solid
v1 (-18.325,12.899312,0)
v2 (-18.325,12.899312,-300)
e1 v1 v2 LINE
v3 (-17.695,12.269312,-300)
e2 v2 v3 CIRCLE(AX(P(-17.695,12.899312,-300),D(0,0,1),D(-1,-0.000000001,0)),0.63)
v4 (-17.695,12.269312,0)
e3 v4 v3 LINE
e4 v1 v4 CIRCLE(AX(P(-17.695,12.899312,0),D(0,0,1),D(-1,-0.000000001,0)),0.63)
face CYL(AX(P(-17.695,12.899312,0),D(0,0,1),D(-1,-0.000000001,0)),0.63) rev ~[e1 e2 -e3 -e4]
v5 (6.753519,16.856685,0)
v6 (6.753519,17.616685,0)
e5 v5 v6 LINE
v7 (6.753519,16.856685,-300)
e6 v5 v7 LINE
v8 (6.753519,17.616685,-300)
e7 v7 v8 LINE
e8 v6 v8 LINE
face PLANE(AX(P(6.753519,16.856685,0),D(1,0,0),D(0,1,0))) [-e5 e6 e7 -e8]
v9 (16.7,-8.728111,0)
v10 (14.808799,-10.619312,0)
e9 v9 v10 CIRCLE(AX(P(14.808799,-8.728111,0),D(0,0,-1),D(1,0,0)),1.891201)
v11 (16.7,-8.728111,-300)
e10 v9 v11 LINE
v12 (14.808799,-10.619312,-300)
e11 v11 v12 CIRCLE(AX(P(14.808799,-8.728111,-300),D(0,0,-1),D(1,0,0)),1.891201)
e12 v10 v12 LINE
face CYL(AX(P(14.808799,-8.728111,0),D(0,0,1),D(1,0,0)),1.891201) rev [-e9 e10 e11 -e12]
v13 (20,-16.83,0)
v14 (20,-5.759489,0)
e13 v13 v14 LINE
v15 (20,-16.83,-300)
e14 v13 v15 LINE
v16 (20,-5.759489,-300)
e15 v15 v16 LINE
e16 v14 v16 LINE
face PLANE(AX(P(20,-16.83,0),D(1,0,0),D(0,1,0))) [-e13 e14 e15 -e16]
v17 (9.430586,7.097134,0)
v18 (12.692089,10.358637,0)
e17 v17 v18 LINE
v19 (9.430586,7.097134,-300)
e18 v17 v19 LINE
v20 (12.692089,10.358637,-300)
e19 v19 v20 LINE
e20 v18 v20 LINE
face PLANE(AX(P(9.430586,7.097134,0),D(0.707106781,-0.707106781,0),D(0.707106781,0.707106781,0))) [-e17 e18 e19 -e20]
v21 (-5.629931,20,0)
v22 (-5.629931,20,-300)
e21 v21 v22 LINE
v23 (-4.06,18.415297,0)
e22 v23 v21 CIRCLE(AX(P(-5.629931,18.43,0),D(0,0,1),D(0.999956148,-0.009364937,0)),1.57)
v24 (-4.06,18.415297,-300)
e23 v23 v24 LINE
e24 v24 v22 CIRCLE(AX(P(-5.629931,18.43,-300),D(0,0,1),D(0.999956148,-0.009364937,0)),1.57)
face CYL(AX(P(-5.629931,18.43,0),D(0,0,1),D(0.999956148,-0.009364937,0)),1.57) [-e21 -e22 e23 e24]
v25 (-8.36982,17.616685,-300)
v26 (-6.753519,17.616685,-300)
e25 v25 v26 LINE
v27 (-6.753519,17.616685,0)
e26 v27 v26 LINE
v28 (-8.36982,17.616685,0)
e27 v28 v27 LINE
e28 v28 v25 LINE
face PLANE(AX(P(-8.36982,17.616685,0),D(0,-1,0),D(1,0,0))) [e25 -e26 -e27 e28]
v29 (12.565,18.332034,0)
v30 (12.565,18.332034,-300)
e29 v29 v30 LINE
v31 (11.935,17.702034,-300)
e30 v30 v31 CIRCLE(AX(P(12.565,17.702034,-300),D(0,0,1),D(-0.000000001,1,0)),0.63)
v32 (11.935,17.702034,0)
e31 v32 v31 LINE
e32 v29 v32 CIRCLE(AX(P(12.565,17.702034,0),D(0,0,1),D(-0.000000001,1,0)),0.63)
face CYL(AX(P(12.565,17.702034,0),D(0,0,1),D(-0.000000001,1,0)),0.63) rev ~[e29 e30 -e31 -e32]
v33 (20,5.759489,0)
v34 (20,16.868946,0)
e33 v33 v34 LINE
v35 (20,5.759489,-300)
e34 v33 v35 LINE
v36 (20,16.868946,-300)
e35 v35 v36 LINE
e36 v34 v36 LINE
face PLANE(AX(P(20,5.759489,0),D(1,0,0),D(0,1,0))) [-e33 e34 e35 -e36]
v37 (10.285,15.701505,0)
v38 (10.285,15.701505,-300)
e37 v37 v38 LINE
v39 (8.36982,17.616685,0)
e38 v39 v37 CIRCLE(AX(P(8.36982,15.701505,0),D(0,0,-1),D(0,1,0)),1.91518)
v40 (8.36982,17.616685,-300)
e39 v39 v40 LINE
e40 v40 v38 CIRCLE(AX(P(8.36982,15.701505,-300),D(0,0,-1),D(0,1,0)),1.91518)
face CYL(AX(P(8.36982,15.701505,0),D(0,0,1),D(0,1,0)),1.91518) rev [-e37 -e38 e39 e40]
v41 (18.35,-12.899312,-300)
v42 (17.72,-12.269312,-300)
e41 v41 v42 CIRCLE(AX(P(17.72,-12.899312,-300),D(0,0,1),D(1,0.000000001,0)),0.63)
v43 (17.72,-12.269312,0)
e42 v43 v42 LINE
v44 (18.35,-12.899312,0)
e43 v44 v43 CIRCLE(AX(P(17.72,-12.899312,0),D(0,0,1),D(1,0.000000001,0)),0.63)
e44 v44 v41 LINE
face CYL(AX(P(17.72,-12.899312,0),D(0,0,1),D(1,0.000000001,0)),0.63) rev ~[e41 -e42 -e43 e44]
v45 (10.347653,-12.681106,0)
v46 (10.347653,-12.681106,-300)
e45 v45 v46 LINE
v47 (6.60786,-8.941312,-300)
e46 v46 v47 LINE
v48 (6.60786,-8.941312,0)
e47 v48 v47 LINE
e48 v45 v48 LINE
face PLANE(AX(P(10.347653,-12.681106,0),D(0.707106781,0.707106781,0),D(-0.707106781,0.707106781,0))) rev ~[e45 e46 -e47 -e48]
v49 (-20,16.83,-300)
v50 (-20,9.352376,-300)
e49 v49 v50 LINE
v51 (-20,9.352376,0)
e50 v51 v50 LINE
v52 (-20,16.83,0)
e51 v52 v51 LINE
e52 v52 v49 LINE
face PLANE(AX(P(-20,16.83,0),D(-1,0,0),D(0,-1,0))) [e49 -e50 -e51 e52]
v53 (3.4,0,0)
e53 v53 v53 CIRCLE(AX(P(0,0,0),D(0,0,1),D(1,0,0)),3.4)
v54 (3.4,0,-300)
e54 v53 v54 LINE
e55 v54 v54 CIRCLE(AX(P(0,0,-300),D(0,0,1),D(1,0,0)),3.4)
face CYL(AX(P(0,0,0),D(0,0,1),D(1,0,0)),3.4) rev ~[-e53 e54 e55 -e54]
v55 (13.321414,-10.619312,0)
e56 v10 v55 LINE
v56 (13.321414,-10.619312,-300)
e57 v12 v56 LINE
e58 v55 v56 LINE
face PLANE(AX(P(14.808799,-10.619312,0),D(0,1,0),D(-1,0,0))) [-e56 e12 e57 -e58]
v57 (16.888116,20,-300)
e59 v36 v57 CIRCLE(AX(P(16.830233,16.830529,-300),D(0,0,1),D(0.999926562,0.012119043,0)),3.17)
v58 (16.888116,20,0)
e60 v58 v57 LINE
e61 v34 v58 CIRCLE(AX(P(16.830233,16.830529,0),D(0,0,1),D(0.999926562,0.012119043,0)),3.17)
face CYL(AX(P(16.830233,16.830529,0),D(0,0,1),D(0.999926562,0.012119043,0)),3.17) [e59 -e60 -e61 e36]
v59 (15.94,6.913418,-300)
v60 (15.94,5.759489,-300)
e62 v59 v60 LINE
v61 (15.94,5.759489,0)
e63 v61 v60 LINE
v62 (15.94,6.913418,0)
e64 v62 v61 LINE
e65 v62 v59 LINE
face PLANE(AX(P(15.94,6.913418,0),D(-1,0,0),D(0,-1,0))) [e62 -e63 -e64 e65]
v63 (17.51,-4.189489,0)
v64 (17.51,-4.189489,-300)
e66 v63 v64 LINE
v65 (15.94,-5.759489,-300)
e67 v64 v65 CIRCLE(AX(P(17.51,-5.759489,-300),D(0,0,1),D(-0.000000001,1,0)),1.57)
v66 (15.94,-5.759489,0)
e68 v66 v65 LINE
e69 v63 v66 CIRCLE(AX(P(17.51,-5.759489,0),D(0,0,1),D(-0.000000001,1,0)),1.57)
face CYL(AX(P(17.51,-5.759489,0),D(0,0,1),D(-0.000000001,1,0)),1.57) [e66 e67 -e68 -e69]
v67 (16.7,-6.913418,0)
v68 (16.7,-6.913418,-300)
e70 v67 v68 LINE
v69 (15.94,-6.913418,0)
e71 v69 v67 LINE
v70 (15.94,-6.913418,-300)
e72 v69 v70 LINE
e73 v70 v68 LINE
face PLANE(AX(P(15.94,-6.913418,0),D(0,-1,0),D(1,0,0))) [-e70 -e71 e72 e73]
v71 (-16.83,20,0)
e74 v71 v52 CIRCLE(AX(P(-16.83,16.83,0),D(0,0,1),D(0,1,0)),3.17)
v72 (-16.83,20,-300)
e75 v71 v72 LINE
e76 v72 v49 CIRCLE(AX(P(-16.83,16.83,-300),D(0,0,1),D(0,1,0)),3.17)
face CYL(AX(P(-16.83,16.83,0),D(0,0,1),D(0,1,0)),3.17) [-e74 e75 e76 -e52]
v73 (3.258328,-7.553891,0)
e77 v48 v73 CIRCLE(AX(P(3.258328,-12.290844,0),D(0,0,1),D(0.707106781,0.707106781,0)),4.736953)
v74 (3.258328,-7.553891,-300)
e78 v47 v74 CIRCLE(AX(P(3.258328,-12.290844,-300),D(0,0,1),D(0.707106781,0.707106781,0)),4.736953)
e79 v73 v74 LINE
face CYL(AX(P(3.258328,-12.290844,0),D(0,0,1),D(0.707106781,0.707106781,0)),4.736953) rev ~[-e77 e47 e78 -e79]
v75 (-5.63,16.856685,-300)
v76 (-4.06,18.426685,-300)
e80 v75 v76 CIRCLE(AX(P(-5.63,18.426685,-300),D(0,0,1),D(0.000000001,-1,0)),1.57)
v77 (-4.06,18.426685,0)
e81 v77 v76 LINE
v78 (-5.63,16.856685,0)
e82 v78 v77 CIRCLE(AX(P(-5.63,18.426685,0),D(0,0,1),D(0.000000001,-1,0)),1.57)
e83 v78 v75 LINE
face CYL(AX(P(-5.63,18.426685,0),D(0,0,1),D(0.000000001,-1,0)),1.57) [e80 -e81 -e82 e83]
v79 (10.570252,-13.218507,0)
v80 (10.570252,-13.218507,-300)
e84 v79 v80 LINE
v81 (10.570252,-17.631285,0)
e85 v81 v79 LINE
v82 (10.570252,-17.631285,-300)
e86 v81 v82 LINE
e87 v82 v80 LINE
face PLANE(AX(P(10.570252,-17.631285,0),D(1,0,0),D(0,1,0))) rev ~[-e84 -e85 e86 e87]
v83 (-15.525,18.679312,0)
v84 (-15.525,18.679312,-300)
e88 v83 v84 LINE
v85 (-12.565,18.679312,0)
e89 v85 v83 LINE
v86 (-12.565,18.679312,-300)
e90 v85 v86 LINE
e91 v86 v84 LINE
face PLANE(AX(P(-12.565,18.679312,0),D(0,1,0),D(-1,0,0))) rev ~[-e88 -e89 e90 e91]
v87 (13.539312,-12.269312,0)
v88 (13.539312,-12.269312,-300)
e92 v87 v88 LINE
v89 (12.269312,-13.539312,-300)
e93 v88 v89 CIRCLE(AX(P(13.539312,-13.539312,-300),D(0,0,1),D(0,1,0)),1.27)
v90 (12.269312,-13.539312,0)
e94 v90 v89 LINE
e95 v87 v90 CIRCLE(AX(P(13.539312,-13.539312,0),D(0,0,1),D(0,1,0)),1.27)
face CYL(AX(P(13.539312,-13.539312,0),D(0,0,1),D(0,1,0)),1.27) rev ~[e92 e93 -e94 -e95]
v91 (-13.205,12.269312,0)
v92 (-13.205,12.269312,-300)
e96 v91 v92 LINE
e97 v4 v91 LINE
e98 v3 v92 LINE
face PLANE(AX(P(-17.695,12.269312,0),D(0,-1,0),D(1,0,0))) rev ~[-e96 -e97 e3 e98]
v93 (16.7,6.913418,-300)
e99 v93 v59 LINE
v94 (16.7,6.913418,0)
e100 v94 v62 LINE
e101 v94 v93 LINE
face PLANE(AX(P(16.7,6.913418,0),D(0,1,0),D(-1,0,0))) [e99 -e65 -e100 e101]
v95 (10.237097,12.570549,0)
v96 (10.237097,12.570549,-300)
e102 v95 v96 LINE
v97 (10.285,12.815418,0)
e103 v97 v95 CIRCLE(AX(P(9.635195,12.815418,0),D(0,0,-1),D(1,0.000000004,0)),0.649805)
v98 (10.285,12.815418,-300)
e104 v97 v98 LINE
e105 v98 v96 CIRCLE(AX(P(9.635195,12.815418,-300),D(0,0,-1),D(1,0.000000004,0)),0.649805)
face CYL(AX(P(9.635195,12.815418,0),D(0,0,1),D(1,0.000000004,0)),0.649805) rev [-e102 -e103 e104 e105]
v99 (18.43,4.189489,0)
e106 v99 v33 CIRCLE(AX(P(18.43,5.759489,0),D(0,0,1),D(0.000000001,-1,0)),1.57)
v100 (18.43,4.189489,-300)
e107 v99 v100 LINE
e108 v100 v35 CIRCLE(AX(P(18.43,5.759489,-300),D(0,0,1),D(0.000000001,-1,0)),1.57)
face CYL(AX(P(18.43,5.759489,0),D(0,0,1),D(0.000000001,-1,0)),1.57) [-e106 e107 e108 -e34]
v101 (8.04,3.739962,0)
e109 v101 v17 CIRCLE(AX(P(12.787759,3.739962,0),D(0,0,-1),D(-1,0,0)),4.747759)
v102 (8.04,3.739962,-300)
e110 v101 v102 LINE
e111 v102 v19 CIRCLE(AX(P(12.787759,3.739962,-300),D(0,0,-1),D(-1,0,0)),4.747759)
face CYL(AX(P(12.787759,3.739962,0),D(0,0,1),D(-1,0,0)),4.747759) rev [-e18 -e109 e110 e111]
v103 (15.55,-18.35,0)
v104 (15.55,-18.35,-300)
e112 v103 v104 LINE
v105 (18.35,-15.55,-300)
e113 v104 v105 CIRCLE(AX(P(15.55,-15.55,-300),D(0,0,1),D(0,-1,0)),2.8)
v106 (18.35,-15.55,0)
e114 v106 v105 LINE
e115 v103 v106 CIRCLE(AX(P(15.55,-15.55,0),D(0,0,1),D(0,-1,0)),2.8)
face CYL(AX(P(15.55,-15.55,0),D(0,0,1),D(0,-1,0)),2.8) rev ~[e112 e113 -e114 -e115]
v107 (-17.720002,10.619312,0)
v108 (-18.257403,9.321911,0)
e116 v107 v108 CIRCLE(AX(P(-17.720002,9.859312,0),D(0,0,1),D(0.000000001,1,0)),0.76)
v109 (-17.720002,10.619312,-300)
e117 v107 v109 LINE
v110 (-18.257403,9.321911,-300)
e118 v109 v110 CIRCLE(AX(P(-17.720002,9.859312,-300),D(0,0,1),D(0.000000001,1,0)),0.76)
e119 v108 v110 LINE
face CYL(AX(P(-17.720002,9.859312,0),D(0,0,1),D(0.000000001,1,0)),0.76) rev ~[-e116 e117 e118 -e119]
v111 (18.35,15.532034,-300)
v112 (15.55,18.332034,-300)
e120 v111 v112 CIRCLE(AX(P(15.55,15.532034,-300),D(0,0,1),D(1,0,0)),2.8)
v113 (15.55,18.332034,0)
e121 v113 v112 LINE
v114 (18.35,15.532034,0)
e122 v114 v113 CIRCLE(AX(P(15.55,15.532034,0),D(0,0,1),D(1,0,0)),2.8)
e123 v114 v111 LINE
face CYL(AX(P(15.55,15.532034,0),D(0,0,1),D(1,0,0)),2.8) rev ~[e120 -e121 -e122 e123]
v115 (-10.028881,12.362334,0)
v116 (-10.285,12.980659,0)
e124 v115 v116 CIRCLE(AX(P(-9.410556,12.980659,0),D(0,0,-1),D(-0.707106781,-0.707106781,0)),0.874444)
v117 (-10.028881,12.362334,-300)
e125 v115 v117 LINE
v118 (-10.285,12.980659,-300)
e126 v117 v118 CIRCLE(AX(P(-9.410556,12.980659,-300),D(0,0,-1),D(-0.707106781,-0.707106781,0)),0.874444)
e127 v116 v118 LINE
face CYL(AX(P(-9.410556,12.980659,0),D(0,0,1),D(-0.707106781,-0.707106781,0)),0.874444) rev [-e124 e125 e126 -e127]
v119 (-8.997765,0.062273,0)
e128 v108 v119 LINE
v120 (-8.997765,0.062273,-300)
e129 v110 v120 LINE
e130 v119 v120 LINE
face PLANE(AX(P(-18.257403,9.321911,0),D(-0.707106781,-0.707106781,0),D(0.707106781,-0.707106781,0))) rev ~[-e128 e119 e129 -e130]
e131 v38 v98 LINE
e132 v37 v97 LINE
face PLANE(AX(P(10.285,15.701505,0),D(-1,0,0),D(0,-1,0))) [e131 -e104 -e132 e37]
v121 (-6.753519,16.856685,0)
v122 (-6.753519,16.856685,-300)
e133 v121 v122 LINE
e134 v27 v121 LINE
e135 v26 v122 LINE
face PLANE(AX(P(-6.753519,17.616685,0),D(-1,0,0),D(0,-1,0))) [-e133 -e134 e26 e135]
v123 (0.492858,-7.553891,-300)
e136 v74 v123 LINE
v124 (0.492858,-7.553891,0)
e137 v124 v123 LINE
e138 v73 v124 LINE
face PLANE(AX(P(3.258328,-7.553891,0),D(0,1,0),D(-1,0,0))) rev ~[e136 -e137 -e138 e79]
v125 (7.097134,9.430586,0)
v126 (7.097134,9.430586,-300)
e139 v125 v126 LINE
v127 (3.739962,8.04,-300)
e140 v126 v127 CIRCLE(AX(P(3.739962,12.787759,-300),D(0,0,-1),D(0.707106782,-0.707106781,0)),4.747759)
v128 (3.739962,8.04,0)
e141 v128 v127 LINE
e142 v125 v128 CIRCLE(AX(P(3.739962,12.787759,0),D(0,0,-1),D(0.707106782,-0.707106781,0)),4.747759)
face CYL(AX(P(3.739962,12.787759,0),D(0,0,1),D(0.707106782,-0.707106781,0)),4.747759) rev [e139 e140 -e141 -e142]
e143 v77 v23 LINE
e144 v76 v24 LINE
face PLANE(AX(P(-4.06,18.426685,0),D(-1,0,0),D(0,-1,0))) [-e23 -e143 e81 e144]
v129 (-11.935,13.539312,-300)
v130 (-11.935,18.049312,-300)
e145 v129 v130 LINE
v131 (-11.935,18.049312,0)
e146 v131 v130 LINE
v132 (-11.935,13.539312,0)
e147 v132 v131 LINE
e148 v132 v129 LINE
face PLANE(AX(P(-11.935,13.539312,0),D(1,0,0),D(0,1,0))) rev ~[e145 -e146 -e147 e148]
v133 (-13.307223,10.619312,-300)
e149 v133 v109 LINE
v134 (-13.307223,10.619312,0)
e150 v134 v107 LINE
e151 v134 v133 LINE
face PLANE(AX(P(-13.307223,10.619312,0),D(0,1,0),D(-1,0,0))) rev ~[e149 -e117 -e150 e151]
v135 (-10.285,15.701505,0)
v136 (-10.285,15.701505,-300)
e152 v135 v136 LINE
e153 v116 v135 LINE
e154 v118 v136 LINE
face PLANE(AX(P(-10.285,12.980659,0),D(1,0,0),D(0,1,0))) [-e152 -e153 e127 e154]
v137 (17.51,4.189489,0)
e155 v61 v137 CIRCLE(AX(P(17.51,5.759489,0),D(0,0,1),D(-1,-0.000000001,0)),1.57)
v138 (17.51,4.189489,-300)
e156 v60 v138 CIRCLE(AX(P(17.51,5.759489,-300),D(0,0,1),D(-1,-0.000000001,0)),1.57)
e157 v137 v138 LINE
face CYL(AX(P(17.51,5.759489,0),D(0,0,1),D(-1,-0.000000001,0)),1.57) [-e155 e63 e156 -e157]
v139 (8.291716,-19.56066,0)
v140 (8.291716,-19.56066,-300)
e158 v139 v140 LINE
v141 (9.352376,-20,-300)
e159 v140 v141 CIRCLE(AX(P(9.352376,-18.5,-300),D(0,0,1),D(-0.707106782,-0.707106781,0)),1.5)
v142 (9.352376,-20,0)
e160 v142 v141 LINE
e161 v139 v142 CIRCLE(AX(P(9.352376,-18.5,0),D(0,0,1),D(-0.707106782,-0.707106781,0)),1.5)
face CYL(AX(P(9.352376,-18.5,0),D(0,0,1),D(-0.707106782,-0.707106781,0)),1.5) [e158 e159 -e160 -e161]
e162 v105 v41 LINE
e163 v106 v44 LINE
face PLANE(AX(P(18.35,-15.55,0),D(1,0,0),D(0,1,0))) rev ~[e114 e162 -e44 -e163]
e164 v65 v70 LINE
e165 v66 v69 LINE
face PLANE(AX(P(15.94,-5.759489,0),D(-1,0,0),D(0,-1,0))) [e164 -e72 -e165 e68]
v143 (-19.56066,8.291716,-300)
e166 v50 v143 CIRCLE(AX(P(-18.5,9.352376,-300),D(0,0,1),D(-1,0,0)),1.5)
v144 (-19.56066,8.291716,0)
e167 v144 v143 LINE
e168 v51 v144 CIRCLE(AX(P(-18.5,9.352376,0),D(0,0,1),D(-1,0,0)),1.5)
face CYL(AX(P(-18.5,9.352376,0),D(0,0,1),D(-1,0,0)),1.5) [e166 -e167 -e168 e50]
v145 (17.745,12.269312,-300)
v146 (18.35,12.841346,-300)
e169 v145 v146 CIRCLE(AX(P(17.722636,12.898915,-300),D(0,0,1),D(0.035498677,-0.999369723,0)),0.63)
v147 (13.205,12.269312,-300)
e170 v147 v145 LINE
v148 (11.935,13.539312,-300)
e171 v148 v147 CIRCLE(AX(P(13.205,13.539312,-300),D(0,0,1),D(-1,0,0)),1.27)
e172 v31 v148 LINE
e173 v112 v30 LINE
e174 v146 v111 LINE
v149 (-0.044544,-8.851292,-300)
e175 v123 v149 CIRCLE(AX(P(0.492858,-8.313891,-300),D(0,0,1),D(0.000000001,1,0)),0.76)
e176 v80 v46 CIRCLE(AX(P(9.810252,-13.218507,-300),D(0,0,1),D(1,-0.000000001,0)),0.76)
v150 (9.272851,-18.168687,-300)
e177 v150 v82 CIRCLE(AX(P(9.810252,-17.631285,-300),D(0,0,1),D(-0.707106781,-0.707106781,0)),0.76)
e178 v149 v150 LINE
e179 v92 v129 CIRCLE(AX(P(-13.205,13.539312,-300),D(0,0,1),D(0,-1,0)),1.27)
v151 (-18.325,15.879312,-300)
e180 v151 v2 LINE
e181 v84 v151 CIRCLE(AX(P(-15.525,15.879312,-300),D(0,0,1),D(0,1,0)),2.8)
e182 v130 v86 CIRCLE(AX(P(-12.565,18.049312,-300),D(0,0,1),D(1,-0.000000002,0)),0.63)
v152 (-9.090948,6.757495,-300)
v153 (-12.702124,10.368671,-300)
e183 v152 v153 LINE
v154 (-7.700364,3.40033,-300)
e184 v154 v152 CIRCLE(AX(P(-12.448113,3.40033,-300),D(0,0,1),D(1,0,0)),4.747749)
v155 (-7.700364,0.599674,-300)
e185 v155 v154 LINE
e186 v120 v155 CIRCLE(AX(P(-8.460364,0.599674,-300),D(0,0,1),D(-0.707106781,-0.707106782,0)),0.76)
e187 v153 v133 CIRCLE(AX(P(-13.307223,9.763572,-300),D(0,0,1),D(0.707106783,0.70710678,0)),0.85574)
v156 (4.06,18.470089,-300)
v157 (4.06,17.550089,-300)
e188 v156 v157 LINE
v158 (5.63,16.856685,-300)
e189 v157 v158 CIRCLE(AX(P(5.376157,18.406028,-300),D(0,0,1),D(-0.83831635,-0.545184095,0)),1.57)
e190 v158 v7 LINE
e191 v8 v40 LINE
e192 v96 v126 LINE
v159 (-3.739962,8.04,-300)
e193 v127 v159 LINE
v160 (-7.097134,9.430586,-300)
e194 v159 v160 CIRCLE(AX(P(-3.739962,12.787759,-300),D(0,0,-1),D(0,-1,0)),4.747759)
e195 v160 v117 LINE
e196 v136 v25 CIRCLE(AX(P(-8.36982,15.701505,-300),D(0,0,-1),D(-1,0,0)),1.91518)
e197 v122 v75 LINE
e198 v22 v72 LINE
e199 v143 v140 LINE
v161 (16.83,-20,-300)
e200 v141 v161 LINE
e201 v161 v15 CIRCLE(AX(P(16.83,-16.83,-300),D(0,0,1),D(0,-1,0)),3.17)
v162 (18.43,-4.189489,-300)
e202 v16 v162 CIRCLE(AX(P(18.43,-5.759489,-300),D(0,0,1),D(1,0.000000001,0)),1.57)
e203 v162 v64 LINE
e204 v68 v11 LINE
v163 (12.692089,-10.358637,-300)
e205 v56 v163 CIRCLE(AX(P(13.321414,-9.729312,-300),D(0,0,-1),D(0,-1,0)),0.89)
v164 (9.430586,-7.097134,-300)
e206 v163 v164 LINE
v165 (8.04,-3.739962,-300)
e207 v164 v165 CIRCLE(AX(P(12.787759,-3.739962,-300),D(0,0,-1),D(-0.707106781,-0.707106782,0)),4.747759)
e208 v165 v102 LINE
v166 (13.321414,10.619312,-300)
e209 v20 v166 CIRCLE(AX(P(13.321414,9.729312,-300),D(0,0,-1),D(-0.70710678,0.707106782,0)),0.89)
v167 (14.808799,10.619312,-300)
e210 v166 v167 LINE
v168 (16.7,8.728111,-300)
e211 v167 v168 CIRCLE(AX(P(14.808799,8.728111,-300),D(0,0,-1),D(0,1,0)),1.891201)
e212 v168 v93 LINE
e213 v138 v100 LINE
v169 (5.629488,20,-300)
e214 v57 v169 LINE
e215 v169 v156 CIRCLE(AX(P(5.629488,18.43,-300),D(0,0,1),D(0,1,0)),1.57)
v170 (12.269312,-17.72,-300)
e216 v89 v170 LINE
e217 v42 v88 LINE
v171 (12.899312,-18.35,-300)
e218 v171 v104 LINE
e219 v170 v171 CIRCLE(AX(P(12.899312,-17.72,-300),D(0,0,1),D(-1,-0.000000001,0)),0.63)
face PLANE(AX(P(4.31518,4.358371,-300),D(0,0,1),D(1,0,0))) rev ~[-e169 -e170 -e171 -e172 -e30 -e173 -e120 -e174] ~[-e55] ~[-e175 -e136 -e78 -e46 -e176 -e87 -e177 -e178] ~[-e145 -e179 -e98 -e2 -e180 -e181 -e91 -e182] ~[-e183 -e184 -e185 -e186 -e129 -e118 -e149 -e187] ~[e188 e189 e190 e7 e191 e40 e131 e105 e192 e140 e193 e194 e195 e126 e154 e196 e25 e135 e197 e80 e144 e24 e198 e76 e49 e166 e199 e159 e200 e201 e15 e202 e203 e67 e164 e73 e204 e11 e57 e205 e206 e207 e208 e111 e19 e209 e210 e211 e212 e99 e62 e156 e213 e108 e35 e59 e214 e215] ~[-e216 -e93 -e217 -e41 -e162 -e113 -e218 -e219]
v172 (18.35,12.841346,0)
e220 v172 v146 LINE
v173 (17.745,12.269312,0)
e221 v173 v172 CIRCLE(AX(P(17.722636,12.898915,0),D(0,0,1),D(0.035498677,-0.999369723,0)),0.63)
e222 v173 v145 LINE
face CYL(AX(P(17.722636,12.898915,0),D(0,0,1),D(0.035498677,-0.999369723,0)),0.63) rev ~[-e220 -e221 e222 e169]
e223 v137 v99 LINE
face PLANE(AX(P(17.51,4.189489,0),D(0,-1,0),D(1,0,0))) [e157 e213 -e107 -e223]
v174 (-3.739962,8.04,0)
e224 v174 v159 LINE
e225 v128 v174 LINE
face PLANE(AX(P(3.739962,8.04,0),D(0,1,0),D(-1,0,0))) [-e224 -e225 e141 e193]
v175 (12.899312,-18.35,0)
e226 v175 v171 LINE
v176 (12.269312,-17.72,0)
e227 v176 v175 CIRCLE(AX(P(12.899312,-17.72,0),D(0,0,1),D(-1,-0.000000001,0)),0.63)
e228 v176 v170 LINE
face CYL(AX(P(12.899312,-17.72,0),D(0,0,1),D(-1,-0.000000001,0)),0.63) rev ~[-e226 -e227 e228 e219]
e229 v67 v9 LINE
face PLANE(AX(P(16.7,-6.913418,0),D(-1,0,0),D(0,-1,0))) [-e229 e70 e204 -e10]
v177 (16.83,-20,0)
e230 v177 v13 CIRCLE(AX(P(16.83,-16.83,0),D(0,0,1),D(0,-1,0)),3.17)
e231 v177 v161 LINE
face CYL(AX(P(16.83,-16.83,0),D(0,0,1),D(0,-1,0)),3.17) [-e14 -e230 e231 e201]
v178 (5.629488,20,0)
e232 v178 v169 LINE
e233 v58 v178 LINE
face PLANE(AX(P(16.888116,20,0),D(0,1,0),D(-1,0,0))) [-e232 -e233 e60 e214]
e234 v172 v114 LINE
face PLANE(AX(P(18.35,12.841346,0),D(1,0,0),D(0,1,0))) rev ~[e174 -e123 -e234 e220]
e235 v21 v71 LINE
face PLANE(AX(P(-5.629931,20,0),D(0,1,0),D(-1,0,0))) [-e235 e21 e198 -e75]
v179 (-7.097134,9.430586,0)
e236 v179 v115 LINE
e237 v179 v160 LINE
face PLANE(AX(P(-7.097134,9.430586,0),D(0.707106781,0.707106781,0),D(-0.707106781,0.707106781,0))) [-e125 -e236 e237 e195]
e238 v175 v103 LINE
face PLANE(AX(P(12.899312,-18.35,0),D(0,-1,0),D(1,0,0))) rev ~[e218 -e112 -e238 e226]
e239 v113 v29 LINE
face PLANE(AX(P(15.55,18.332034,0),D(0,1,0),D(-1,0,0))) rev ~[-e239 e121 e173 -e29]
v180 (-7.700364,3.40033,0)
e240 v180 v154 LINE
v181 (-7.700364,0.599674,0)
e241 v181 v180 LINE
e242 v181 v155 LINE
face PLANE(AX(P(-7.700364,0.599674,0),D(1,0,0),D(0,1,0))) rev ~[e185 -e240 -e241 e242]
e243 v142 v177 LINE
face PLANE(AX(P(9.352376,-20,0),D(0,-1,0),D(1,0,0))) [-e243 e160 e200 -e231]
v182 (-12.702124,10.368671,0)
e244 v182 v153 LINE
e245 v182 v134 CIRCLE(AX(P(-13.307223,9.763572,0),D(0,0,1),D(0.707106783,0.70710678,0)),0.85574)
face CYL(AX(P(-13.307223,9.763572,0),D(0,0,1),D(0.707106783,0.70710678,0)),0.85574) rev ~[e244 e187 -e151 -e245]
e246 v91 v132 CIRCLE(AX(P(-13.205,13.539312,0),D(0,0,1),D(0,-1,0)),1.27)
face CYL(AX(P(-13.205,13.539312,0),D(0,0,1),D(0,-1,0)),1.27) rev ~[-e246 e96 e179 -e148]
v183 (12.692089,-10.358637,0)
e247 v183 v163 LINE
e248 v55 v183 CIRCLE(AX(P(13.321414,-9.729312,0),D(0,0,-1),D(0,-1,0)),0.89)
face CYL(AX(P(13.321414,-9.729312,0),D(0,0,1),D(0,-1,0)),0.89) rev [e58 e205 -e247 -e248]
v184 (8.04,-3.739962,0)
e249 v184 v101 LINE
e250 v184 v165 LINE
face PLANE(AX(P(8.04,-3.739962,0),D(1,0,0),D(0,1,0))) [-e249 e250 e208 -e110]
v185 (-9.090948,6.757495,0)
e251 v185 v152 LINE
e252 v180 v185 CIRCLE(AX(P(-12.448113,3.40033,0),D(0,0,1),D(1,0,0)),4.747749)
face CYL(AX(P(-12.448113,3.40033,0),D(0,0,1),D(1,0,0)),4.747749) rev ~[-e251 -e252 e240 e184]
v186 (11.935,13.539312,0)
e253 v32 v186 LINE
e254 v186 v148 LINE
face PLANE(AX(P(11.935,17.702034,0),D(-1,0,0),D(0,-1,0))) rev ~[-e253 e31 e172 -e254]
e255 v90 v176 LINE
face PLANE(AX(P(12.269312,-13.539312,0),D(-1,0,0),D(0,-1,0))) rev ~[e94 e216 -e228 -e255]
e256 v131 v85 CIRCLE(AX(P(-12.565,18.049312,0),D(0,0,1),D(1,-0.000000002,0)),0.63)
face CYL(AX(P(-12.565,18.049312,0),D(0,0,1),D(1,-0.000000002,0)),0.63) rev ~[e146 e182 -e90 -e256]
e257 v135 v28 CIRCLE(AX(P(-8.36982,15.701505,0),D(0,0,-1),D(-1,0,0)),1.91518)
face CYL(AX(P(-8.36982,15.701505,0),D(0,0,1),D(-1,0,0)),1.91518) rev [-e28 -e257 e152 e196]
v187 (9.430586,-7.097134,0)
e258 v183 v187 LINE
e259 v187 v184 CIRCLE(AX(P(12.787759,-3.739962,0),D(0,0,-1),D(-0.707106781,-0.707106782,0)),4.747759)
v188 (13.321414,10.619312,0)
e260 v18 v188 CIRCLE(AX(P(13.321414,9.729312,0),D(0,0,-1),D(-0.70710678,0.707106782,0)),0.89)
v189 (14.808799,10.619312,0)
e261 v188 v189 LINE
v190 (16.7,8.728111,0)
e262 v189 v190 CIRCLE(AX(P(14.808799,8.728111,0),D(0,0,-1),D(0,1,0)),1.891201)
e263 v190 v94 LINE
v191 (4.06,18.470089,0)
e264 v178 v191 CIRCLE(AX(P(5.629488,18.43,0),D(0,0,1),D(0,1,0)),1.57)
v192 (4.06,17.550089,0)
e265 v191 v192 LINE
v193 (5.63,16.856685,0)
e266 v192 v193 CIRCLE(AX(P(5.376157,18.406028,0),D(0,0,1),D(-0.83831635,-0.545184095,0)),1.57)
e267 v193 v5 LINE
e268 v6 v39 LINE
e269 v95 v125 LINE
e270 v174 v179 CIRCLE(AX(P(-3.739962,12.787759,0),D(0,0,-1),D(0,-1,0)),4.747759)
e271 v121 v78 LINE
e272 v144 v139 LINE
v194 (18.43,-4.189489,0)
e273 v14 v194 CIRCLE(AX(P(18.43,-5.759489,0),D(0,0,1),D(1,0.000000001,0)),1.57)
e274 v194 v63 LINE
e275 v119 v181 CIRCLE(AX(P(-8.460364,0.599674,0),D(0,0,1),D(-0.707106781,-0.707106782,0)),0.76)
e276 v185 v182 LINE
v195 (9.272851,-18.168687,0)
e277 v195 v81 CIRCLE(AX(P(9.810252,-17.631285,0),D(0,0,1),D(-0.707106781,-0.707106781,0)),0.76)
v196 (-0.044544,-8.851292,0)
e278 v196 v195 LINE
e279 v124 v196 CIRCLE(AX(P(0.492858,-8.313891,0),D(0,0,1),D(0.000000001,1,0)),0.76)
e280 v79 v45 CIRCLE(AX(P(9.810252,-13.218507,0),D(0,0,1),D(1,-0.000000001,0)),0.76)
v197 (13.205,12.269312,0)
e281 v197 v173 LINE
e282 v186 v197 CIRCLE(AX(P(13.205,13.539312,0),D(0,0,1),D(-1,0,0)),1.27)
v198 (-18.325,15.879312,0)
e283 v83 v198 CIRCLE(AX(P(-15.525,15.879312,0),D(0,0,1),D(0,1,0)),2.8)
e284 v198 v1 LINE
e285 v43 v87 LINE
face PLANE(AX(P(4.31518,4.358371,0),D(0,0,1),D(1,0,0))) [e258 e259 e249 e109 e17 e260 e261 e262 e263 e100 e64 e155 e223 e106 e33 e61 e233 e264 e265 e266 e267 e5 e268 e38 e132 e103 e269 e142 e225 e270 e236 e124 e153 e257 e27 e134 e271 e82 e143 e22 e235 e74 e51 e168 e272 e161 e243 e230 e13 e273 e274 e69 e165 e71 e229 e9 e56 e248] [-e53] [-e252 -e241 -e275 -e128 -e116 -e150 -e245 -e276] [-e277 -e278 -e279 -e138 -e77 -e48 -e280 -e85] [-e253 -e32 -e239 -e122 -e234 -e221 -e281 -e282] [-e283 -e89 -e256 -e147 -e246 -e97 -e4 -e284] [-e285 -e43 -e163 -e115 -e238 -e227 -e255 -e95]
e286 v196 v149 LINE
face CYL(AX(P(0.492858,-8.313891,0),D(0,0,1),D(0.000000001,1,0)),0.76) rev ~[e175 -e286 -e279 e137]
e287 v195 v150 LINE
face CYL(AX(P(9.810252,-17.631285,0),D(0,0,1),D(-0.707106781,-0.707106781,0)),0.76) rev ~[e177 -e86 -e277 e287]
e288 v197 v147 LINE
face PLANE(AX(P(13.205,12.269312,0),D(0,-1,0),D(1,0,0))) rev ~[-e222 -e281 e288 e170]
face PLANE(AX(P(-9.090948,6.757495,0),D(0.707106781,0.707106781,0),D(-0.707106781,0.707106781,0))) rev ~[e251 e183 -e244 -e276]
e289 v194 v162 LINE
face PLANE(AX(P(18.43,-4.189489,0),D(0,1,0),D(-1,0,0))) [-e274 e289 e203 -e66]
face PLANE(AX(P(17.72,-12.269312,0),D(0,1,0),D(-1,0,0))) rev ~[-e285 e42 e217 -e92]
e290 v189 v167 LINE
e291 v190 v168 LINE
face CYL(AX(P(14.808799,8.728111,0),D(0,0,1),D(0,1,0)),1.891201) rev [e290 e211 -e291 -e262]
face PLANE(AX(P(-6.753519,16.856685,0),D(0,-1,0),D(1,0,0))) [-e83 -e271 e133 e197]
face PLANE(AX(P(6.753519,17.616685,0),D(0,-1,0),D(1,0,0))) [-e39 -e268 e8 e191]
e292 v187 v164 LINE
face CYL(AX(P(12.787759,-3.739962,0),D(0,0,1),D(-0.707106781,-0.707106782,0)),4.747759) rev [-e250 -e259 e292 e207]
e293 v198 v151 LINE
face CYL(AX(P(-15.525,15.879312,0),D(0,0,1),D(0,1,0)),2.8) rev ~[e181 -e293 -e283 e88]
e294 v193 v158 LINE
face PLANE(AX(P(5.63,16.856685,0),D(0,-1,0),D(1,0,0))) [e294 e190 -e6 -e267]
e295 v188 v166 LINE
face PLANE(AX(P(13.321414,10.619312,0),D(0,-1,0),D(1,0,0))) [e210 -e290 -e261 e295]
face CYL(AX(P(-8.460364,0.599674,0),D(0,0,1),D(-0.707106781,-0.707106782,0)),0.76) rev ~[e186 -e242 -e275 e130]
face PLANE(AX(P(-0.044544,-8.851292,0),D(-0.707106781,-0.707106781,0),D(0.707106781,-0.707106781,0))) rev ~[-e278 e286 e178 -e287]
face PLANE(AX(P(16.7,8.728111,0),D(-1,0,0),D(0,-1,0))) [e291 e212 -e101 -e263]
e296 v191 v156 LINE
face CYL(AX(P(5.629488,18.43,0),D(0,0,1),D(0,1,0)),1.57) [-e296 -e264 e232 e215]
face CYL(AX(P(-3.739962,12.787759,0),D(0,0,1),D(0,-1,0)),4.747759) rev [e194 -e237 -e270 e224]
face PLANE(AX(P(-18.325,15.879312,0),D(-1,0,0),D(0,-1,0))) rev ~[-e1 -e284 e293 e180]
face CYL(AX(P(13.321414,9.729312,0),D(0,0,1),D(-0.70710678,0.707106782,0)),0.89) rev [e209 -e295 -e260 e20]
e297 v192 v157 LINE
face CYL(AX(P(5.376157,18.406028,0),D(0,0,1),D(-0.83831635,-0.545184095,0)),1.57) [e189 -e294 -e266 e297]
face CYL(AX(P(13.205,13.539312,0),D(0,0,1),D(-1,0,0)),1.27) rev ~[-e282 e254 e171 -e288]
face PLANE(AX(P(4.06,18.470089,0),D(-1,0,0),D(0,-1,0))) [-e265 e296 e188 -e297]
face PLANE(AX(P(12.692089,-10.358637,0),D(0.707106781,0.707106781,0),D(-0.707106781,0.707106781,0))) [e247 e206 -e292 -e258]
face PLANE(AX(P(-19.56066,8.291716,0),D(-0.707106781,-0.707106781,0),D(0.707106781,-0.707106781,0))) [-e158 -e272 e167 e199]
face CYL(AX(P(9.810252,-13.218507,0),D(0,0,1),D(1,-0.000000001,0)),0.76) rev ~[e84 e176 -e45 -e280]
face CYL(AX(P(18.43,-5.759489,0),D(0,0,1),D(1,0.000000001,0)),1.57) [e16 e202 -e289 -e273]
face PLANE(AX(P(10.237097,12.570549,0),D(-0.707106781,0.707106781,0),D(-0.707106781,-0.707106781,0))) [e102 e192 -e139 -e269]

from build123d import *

# Parameters (mm, degrees)
SKETCH1_R      = 3.4
EXTRUDE1_DEPTH = 300


with BuildPart() as part:
    # Sketch1 → Extrude1 (new body)
    with BuildSketch(Plane.XY):
        with BuildLine():
            Line((14.808799083, -10.619311877), (13.321414326, -10.619311877))
            ThreePointArc((13.321414326, -10.619311877), (12.980826071, -10.551564661), (12.692089291, -10.358636913))
            Line((12.692089291, -10.358636913), (9.430586284, -7.097133906))
            ThreePointArc((9.430586284, -7.097133906), (8.4014016, -5.556850178), (8.04, -3.73996164))
            Line((8.04, -3.73996164), (8.04, 3.73996164))
            ThreePointArc((8.04, 3.73996164), (8.4014016, 5.556850178), (9.430586284, 7.097133906))
            Line((9.430586284, 7.097133906), (12.692089291, 10.358636913))
            ThreePointArc((12.692089291, 10.358636913), (12.980826071, 10.551564661), (13.321414326, 10.619311877))
            Line((13.321414326, 10.619311877), (14.808799083, 10.619311877))
            ThreePointArc((14.808799083, 10.619311877), (16.146080076, 10.065391953), (16.7, 8.72811096))
            Line((16.7, 8.72811096), (16.7, 6.913417866))
            Line((16.7, 6.913417866), (15.94, 6.913417866))
            Line((15.94, 6.913417866), (15.94, 5.759489466))
            ThreePointArc((15.94, 5.759489466), (16.399842354, 4.64933182), (17.51, 4.189489466))
            Line((17.51, 4.189489466), (18.43, 4.189489466))
            ThreePointArc((18.43, 4.189489466), (19.540157646, 4.64933182), (20, 5.759489466))
            Line((20, 5.759489466), (20, 13.038781153))
            Line((20, 13.038781153), (20, 16.86894588))
            ThreePointArc((20, 16.86894588), (19.078633802, 19.065163367), (16.888116194, 20))
            Line((16.888116194, 20), (13.060449326, 20))
            Line((13.060449326, 20), (5.629488086, 20))
            ThreePointArc((5.629488086, 20), (4.533595786, 19.554241997), (4.06, 18.470089257))
            Line((4.06, 18.470089257), (4.06, 17.550089257))
            ThreePointArc((4.06, 17.550089257), (4.741862057, 16.969863134), (5.63, 16.85668534))
            Line((5.63, 16.85668534), (6.753519305, 16.85668534))
            Line((6.753519305, 16.85668534), (6.753519305, 17.61668534))
            Line((6.753519305, 17.61668534), (8.369819728, 17.61668534))
            ThreePointArc((8.369819728, 17.61668534), (9.724056685, 17.055742026), (10.285, 15.701505068))
            Line((10.285, 15.701505068), (10.285, 12.815417808))
            ThreePointArc((10.285, 12.815417808), (10.272911804, 12.690662781), (10.237096964, 12.570549342))
            Line((10.237096964, 12.570549342), (7.097133906, 9.430586284))
            ThreePointArc((7.097133906, 9.430586284), (5.556850178, 8.4014016), (3.73996164, 8.04))
            Line((3.73996164, 8.04), (-3.73996164, 8.04))
            ThreePointArc((-3.73996164, 8.04), (-5.556850178, 8.4014016), (-7.097133906, 9.430586284))
            Line((-7.097133906, 9.430586284), (-10.028881252, 12.36233363))
            ThreePointArc((-10.028881252, 12.36233363), (-10.218436906, 12.646023714), (-10.285, 12.980658984))
            Line((-10.285, 12.980658984), (-10.285, 15.701505068))
            ThreePointArc((-10.285, 15.701505068), (-9.724056685, 17.055742026), (-8.369819728, 17.61668534))
            Line((-8.369819728, 17.61668534), (-6.753519305, 17.61668534))
            Line((-6.753519305, 17.61668534), (-6.753519305, 16.85668534))
            Line((-6.753519305, 16.85668534), (-5.63, 16.85668534))
            ThreePointArc((-5.63, 16.85668534), (-4.519842354, 17.316527694), (-4.06, 18.42668534))
            Line((-4.06, 18.42668534), (-4.06, 18.415297048))
            ThreePointArc((-4.06, 18.415297048), (-4.514587341, 19.53494714), (-5.629931152, 20))
            Line((-5.629931152, 20), (-12.97420003, 20))
            Line((-12.97420003, 20), (-16.83, 20))
            ThreePointArc((-16.83, 20), (-19.071528496, 19.071528496), (-20, 16.83))
            Line((-20, 16.83), (-20, 9.352375707))
            ThreePointArc((-20, 9.352375707), (-19.885819299, 8.778350559), (-19.560660172, 8.291715536))
            Line((-19.560660172, 8.291715536), (8.291715536, -19.560660172))
            ThreePointArc((8.291715536, -19.560660172), (8.778350559, -19.885819299), (9.352375707, -20))
            Line((9.352375707, -20), (16.83, -20))
            ThreePointArc((16.83, -20), (19.071528496, -19.071528496), (20, -16.83))
            Line((20, -16.83), (20, -12.959910743))
            Line((20, -12.959910743), (20, -5.759489466))
            ThreePointArc((20, -5.759489466), (19.540157646, -4.64933182), (18.43, -4.189489466))
            Line((18.43, -4.189489466), (17.51, -4.189489466))
            ThreePointArc((17.51, -4.189489466), (16.399842354, -4.64933182), (15.94, -5.759489466))
            Line((15.94, -5.759489466), (15.94, -6.913417866))
            Line((15.94, -6.913417866), (16.7, -6.913417866))
            Line((16.7, -6.913417866), (16.7, -8.72811096))
            ThreePointArc((16.7, -8.72811096), (16.146080076, -10.065391953), (14.808799083, -10.619311877))
        make_face()
        Circle(SKETCH1_R, mode=Mode.SUBTRACT)
        with BuildLine():
            Line((15.55, 18.332033793), (12.565, 18.332033793))
            ThreePointArc((12.565, 18.332033793), (12.119522728, 18.147511065), (11.935, 17.702033793))
            Line((11.935, 17.702033793), (11.935, 13.539311877))
            ThreePointArc((11.935, 13.539311877), (12.306974388, 12.641286265), (13.205, 12.269311877))
            Line((13.205, 12.269311877), (17.745, 12.269311877))
            ThreePointArc((17.745, 12.269311877), (18.155466507, 12.441140176), (18.35, 12.84134567))
            Line((18.35, 12.84134567), (18.35, 15.532033793))
            ThreePointArc((18.35, 15.532033793), (17.529898987, 17.51193278), (15.55, 18.332033793))
        make_face(mode=Mode.SUBTRACT)
        with BuildLine():
            Line((12.899311877, -18.35), (15.55, -18.35))
            ThreePointArc((15.55, -18.35), (17.529898987, -17.529898987), (18.35, -15.55))
            Line((18.35, -15.55), (18.35, -12.899311877))
            ThreePointArc((18.35, -12.899311877), (18.165477272, -12.453834605), (17.72, -12.269311877))
            Line((17.72, -12.269311877), (13.539311877, -12.269311877))
            ThreePointArc((13.539311877, -12.269311877), (12.641286265, -12.641286265), (12.269311877, -13.539311877))
            Line((12.269311877, -13.539311877), (12.269311877, -17.72))
            ThreePointArc((12.269311877, -17.72), (12.453834605, -18.165477272), (12.899311877, -18.35))
        make_face(mode=Mode.SUBTRACT)
        with BuildLine():
            Line((10.570252142, -17.631285379), (10.570252142, -13.218506827))
            ThreePointArc((10.570252142, -13.218506827), (10.512400587, -12.927667419), (10.347653296, -12.681105674))
            Line((10.347653296, -12.681105674), (6.607859905, -8.941312283))
            ThreePointArc((6.607859905, -8.941312283), (5.071081755, -7.914469952), (3.258328328, -7.553890876))
            Line((3.258328328, -7.553890876), (0.492857639, -7.553890876))
            ThreePointArc((0.492857639, -7.553890876), (-0.209290806, -8.023051467), (-0.044543515, -8.85129203))
            Line((-0.044543515, -8.85129203), (9.272850988, -18.168686533))
            ThreePointArc((9.272850988, -18.168686533), (10.101091551, -18.333433824), (10.570252142, -17.631285379))
        make_face(mode=Mode.SUBTRACT)
        with BuildLine():
            Line((-9.090947666, 6.757495288), (-12.702123878, 10.3686715))
            ThreePointArc((-12.702123878, 10.3686715), (-12.979745842, 10.554172566), (-13.307223277, 10.619311877))
            Line((-13.307223277, 10.619311877), (-17.720001828, 10.619311877))
            ThreePointArc((-17.720001828, 10.619311877), (-18.422150273, 10.150151286), (-18.257402982, 9.321910724))
            Line((-18.257402982, 9.321910724), (-8.997765304, 0.062273046))
            ThreePointArc((-8.997765304, 0.062273046), (-8.169524742, -0.102474245), (-7.70036415, 0.599674199))
            Line((-7.70036415, 0.599674199), (-7.70036415, 3.400329705))
            ThreePointArc((-7.70036415, 3.400329705), (-8.061765031, 5.217214626), (-9.090947666, 6.757495288))
        make_face(mode=Mode.SUBTRACT)
        with BuildLine():
            Line((-17.695, 12.269311877), (-13.205, 12.269311877))
            ThreePointArc((-13.205, 12.269311877), (-12.306974388, 12.641286265), (-11.935, 13.539311877))
            Line((-11.935, 13.539311877), (-11.935, 18.049311877))
            ThreePointArc((-11.935, 18.049311877), (-12.119522728, 18.49478915), (-12.565, 18.679311877))
            Line((-12.565, 18.679311877), (-15.525, 18.679311877))
            ThreePointArc((-15.525, 18.679311877), (-17.504898987, 17.859210865), (-18.325, 15.879311877))
            Line((-18.325, 15.879311877), (-18.325, 12.899311877))
            ThreePointArc((-18.325, 12.899311877), (-18.140477272, 12.453834605), (-17.695, 12.269311877))
        make_face(mode=Mode.SUBTRACT)
    extrude(amount=-EXTRUDE1_DEPTH)


solid = part.part
